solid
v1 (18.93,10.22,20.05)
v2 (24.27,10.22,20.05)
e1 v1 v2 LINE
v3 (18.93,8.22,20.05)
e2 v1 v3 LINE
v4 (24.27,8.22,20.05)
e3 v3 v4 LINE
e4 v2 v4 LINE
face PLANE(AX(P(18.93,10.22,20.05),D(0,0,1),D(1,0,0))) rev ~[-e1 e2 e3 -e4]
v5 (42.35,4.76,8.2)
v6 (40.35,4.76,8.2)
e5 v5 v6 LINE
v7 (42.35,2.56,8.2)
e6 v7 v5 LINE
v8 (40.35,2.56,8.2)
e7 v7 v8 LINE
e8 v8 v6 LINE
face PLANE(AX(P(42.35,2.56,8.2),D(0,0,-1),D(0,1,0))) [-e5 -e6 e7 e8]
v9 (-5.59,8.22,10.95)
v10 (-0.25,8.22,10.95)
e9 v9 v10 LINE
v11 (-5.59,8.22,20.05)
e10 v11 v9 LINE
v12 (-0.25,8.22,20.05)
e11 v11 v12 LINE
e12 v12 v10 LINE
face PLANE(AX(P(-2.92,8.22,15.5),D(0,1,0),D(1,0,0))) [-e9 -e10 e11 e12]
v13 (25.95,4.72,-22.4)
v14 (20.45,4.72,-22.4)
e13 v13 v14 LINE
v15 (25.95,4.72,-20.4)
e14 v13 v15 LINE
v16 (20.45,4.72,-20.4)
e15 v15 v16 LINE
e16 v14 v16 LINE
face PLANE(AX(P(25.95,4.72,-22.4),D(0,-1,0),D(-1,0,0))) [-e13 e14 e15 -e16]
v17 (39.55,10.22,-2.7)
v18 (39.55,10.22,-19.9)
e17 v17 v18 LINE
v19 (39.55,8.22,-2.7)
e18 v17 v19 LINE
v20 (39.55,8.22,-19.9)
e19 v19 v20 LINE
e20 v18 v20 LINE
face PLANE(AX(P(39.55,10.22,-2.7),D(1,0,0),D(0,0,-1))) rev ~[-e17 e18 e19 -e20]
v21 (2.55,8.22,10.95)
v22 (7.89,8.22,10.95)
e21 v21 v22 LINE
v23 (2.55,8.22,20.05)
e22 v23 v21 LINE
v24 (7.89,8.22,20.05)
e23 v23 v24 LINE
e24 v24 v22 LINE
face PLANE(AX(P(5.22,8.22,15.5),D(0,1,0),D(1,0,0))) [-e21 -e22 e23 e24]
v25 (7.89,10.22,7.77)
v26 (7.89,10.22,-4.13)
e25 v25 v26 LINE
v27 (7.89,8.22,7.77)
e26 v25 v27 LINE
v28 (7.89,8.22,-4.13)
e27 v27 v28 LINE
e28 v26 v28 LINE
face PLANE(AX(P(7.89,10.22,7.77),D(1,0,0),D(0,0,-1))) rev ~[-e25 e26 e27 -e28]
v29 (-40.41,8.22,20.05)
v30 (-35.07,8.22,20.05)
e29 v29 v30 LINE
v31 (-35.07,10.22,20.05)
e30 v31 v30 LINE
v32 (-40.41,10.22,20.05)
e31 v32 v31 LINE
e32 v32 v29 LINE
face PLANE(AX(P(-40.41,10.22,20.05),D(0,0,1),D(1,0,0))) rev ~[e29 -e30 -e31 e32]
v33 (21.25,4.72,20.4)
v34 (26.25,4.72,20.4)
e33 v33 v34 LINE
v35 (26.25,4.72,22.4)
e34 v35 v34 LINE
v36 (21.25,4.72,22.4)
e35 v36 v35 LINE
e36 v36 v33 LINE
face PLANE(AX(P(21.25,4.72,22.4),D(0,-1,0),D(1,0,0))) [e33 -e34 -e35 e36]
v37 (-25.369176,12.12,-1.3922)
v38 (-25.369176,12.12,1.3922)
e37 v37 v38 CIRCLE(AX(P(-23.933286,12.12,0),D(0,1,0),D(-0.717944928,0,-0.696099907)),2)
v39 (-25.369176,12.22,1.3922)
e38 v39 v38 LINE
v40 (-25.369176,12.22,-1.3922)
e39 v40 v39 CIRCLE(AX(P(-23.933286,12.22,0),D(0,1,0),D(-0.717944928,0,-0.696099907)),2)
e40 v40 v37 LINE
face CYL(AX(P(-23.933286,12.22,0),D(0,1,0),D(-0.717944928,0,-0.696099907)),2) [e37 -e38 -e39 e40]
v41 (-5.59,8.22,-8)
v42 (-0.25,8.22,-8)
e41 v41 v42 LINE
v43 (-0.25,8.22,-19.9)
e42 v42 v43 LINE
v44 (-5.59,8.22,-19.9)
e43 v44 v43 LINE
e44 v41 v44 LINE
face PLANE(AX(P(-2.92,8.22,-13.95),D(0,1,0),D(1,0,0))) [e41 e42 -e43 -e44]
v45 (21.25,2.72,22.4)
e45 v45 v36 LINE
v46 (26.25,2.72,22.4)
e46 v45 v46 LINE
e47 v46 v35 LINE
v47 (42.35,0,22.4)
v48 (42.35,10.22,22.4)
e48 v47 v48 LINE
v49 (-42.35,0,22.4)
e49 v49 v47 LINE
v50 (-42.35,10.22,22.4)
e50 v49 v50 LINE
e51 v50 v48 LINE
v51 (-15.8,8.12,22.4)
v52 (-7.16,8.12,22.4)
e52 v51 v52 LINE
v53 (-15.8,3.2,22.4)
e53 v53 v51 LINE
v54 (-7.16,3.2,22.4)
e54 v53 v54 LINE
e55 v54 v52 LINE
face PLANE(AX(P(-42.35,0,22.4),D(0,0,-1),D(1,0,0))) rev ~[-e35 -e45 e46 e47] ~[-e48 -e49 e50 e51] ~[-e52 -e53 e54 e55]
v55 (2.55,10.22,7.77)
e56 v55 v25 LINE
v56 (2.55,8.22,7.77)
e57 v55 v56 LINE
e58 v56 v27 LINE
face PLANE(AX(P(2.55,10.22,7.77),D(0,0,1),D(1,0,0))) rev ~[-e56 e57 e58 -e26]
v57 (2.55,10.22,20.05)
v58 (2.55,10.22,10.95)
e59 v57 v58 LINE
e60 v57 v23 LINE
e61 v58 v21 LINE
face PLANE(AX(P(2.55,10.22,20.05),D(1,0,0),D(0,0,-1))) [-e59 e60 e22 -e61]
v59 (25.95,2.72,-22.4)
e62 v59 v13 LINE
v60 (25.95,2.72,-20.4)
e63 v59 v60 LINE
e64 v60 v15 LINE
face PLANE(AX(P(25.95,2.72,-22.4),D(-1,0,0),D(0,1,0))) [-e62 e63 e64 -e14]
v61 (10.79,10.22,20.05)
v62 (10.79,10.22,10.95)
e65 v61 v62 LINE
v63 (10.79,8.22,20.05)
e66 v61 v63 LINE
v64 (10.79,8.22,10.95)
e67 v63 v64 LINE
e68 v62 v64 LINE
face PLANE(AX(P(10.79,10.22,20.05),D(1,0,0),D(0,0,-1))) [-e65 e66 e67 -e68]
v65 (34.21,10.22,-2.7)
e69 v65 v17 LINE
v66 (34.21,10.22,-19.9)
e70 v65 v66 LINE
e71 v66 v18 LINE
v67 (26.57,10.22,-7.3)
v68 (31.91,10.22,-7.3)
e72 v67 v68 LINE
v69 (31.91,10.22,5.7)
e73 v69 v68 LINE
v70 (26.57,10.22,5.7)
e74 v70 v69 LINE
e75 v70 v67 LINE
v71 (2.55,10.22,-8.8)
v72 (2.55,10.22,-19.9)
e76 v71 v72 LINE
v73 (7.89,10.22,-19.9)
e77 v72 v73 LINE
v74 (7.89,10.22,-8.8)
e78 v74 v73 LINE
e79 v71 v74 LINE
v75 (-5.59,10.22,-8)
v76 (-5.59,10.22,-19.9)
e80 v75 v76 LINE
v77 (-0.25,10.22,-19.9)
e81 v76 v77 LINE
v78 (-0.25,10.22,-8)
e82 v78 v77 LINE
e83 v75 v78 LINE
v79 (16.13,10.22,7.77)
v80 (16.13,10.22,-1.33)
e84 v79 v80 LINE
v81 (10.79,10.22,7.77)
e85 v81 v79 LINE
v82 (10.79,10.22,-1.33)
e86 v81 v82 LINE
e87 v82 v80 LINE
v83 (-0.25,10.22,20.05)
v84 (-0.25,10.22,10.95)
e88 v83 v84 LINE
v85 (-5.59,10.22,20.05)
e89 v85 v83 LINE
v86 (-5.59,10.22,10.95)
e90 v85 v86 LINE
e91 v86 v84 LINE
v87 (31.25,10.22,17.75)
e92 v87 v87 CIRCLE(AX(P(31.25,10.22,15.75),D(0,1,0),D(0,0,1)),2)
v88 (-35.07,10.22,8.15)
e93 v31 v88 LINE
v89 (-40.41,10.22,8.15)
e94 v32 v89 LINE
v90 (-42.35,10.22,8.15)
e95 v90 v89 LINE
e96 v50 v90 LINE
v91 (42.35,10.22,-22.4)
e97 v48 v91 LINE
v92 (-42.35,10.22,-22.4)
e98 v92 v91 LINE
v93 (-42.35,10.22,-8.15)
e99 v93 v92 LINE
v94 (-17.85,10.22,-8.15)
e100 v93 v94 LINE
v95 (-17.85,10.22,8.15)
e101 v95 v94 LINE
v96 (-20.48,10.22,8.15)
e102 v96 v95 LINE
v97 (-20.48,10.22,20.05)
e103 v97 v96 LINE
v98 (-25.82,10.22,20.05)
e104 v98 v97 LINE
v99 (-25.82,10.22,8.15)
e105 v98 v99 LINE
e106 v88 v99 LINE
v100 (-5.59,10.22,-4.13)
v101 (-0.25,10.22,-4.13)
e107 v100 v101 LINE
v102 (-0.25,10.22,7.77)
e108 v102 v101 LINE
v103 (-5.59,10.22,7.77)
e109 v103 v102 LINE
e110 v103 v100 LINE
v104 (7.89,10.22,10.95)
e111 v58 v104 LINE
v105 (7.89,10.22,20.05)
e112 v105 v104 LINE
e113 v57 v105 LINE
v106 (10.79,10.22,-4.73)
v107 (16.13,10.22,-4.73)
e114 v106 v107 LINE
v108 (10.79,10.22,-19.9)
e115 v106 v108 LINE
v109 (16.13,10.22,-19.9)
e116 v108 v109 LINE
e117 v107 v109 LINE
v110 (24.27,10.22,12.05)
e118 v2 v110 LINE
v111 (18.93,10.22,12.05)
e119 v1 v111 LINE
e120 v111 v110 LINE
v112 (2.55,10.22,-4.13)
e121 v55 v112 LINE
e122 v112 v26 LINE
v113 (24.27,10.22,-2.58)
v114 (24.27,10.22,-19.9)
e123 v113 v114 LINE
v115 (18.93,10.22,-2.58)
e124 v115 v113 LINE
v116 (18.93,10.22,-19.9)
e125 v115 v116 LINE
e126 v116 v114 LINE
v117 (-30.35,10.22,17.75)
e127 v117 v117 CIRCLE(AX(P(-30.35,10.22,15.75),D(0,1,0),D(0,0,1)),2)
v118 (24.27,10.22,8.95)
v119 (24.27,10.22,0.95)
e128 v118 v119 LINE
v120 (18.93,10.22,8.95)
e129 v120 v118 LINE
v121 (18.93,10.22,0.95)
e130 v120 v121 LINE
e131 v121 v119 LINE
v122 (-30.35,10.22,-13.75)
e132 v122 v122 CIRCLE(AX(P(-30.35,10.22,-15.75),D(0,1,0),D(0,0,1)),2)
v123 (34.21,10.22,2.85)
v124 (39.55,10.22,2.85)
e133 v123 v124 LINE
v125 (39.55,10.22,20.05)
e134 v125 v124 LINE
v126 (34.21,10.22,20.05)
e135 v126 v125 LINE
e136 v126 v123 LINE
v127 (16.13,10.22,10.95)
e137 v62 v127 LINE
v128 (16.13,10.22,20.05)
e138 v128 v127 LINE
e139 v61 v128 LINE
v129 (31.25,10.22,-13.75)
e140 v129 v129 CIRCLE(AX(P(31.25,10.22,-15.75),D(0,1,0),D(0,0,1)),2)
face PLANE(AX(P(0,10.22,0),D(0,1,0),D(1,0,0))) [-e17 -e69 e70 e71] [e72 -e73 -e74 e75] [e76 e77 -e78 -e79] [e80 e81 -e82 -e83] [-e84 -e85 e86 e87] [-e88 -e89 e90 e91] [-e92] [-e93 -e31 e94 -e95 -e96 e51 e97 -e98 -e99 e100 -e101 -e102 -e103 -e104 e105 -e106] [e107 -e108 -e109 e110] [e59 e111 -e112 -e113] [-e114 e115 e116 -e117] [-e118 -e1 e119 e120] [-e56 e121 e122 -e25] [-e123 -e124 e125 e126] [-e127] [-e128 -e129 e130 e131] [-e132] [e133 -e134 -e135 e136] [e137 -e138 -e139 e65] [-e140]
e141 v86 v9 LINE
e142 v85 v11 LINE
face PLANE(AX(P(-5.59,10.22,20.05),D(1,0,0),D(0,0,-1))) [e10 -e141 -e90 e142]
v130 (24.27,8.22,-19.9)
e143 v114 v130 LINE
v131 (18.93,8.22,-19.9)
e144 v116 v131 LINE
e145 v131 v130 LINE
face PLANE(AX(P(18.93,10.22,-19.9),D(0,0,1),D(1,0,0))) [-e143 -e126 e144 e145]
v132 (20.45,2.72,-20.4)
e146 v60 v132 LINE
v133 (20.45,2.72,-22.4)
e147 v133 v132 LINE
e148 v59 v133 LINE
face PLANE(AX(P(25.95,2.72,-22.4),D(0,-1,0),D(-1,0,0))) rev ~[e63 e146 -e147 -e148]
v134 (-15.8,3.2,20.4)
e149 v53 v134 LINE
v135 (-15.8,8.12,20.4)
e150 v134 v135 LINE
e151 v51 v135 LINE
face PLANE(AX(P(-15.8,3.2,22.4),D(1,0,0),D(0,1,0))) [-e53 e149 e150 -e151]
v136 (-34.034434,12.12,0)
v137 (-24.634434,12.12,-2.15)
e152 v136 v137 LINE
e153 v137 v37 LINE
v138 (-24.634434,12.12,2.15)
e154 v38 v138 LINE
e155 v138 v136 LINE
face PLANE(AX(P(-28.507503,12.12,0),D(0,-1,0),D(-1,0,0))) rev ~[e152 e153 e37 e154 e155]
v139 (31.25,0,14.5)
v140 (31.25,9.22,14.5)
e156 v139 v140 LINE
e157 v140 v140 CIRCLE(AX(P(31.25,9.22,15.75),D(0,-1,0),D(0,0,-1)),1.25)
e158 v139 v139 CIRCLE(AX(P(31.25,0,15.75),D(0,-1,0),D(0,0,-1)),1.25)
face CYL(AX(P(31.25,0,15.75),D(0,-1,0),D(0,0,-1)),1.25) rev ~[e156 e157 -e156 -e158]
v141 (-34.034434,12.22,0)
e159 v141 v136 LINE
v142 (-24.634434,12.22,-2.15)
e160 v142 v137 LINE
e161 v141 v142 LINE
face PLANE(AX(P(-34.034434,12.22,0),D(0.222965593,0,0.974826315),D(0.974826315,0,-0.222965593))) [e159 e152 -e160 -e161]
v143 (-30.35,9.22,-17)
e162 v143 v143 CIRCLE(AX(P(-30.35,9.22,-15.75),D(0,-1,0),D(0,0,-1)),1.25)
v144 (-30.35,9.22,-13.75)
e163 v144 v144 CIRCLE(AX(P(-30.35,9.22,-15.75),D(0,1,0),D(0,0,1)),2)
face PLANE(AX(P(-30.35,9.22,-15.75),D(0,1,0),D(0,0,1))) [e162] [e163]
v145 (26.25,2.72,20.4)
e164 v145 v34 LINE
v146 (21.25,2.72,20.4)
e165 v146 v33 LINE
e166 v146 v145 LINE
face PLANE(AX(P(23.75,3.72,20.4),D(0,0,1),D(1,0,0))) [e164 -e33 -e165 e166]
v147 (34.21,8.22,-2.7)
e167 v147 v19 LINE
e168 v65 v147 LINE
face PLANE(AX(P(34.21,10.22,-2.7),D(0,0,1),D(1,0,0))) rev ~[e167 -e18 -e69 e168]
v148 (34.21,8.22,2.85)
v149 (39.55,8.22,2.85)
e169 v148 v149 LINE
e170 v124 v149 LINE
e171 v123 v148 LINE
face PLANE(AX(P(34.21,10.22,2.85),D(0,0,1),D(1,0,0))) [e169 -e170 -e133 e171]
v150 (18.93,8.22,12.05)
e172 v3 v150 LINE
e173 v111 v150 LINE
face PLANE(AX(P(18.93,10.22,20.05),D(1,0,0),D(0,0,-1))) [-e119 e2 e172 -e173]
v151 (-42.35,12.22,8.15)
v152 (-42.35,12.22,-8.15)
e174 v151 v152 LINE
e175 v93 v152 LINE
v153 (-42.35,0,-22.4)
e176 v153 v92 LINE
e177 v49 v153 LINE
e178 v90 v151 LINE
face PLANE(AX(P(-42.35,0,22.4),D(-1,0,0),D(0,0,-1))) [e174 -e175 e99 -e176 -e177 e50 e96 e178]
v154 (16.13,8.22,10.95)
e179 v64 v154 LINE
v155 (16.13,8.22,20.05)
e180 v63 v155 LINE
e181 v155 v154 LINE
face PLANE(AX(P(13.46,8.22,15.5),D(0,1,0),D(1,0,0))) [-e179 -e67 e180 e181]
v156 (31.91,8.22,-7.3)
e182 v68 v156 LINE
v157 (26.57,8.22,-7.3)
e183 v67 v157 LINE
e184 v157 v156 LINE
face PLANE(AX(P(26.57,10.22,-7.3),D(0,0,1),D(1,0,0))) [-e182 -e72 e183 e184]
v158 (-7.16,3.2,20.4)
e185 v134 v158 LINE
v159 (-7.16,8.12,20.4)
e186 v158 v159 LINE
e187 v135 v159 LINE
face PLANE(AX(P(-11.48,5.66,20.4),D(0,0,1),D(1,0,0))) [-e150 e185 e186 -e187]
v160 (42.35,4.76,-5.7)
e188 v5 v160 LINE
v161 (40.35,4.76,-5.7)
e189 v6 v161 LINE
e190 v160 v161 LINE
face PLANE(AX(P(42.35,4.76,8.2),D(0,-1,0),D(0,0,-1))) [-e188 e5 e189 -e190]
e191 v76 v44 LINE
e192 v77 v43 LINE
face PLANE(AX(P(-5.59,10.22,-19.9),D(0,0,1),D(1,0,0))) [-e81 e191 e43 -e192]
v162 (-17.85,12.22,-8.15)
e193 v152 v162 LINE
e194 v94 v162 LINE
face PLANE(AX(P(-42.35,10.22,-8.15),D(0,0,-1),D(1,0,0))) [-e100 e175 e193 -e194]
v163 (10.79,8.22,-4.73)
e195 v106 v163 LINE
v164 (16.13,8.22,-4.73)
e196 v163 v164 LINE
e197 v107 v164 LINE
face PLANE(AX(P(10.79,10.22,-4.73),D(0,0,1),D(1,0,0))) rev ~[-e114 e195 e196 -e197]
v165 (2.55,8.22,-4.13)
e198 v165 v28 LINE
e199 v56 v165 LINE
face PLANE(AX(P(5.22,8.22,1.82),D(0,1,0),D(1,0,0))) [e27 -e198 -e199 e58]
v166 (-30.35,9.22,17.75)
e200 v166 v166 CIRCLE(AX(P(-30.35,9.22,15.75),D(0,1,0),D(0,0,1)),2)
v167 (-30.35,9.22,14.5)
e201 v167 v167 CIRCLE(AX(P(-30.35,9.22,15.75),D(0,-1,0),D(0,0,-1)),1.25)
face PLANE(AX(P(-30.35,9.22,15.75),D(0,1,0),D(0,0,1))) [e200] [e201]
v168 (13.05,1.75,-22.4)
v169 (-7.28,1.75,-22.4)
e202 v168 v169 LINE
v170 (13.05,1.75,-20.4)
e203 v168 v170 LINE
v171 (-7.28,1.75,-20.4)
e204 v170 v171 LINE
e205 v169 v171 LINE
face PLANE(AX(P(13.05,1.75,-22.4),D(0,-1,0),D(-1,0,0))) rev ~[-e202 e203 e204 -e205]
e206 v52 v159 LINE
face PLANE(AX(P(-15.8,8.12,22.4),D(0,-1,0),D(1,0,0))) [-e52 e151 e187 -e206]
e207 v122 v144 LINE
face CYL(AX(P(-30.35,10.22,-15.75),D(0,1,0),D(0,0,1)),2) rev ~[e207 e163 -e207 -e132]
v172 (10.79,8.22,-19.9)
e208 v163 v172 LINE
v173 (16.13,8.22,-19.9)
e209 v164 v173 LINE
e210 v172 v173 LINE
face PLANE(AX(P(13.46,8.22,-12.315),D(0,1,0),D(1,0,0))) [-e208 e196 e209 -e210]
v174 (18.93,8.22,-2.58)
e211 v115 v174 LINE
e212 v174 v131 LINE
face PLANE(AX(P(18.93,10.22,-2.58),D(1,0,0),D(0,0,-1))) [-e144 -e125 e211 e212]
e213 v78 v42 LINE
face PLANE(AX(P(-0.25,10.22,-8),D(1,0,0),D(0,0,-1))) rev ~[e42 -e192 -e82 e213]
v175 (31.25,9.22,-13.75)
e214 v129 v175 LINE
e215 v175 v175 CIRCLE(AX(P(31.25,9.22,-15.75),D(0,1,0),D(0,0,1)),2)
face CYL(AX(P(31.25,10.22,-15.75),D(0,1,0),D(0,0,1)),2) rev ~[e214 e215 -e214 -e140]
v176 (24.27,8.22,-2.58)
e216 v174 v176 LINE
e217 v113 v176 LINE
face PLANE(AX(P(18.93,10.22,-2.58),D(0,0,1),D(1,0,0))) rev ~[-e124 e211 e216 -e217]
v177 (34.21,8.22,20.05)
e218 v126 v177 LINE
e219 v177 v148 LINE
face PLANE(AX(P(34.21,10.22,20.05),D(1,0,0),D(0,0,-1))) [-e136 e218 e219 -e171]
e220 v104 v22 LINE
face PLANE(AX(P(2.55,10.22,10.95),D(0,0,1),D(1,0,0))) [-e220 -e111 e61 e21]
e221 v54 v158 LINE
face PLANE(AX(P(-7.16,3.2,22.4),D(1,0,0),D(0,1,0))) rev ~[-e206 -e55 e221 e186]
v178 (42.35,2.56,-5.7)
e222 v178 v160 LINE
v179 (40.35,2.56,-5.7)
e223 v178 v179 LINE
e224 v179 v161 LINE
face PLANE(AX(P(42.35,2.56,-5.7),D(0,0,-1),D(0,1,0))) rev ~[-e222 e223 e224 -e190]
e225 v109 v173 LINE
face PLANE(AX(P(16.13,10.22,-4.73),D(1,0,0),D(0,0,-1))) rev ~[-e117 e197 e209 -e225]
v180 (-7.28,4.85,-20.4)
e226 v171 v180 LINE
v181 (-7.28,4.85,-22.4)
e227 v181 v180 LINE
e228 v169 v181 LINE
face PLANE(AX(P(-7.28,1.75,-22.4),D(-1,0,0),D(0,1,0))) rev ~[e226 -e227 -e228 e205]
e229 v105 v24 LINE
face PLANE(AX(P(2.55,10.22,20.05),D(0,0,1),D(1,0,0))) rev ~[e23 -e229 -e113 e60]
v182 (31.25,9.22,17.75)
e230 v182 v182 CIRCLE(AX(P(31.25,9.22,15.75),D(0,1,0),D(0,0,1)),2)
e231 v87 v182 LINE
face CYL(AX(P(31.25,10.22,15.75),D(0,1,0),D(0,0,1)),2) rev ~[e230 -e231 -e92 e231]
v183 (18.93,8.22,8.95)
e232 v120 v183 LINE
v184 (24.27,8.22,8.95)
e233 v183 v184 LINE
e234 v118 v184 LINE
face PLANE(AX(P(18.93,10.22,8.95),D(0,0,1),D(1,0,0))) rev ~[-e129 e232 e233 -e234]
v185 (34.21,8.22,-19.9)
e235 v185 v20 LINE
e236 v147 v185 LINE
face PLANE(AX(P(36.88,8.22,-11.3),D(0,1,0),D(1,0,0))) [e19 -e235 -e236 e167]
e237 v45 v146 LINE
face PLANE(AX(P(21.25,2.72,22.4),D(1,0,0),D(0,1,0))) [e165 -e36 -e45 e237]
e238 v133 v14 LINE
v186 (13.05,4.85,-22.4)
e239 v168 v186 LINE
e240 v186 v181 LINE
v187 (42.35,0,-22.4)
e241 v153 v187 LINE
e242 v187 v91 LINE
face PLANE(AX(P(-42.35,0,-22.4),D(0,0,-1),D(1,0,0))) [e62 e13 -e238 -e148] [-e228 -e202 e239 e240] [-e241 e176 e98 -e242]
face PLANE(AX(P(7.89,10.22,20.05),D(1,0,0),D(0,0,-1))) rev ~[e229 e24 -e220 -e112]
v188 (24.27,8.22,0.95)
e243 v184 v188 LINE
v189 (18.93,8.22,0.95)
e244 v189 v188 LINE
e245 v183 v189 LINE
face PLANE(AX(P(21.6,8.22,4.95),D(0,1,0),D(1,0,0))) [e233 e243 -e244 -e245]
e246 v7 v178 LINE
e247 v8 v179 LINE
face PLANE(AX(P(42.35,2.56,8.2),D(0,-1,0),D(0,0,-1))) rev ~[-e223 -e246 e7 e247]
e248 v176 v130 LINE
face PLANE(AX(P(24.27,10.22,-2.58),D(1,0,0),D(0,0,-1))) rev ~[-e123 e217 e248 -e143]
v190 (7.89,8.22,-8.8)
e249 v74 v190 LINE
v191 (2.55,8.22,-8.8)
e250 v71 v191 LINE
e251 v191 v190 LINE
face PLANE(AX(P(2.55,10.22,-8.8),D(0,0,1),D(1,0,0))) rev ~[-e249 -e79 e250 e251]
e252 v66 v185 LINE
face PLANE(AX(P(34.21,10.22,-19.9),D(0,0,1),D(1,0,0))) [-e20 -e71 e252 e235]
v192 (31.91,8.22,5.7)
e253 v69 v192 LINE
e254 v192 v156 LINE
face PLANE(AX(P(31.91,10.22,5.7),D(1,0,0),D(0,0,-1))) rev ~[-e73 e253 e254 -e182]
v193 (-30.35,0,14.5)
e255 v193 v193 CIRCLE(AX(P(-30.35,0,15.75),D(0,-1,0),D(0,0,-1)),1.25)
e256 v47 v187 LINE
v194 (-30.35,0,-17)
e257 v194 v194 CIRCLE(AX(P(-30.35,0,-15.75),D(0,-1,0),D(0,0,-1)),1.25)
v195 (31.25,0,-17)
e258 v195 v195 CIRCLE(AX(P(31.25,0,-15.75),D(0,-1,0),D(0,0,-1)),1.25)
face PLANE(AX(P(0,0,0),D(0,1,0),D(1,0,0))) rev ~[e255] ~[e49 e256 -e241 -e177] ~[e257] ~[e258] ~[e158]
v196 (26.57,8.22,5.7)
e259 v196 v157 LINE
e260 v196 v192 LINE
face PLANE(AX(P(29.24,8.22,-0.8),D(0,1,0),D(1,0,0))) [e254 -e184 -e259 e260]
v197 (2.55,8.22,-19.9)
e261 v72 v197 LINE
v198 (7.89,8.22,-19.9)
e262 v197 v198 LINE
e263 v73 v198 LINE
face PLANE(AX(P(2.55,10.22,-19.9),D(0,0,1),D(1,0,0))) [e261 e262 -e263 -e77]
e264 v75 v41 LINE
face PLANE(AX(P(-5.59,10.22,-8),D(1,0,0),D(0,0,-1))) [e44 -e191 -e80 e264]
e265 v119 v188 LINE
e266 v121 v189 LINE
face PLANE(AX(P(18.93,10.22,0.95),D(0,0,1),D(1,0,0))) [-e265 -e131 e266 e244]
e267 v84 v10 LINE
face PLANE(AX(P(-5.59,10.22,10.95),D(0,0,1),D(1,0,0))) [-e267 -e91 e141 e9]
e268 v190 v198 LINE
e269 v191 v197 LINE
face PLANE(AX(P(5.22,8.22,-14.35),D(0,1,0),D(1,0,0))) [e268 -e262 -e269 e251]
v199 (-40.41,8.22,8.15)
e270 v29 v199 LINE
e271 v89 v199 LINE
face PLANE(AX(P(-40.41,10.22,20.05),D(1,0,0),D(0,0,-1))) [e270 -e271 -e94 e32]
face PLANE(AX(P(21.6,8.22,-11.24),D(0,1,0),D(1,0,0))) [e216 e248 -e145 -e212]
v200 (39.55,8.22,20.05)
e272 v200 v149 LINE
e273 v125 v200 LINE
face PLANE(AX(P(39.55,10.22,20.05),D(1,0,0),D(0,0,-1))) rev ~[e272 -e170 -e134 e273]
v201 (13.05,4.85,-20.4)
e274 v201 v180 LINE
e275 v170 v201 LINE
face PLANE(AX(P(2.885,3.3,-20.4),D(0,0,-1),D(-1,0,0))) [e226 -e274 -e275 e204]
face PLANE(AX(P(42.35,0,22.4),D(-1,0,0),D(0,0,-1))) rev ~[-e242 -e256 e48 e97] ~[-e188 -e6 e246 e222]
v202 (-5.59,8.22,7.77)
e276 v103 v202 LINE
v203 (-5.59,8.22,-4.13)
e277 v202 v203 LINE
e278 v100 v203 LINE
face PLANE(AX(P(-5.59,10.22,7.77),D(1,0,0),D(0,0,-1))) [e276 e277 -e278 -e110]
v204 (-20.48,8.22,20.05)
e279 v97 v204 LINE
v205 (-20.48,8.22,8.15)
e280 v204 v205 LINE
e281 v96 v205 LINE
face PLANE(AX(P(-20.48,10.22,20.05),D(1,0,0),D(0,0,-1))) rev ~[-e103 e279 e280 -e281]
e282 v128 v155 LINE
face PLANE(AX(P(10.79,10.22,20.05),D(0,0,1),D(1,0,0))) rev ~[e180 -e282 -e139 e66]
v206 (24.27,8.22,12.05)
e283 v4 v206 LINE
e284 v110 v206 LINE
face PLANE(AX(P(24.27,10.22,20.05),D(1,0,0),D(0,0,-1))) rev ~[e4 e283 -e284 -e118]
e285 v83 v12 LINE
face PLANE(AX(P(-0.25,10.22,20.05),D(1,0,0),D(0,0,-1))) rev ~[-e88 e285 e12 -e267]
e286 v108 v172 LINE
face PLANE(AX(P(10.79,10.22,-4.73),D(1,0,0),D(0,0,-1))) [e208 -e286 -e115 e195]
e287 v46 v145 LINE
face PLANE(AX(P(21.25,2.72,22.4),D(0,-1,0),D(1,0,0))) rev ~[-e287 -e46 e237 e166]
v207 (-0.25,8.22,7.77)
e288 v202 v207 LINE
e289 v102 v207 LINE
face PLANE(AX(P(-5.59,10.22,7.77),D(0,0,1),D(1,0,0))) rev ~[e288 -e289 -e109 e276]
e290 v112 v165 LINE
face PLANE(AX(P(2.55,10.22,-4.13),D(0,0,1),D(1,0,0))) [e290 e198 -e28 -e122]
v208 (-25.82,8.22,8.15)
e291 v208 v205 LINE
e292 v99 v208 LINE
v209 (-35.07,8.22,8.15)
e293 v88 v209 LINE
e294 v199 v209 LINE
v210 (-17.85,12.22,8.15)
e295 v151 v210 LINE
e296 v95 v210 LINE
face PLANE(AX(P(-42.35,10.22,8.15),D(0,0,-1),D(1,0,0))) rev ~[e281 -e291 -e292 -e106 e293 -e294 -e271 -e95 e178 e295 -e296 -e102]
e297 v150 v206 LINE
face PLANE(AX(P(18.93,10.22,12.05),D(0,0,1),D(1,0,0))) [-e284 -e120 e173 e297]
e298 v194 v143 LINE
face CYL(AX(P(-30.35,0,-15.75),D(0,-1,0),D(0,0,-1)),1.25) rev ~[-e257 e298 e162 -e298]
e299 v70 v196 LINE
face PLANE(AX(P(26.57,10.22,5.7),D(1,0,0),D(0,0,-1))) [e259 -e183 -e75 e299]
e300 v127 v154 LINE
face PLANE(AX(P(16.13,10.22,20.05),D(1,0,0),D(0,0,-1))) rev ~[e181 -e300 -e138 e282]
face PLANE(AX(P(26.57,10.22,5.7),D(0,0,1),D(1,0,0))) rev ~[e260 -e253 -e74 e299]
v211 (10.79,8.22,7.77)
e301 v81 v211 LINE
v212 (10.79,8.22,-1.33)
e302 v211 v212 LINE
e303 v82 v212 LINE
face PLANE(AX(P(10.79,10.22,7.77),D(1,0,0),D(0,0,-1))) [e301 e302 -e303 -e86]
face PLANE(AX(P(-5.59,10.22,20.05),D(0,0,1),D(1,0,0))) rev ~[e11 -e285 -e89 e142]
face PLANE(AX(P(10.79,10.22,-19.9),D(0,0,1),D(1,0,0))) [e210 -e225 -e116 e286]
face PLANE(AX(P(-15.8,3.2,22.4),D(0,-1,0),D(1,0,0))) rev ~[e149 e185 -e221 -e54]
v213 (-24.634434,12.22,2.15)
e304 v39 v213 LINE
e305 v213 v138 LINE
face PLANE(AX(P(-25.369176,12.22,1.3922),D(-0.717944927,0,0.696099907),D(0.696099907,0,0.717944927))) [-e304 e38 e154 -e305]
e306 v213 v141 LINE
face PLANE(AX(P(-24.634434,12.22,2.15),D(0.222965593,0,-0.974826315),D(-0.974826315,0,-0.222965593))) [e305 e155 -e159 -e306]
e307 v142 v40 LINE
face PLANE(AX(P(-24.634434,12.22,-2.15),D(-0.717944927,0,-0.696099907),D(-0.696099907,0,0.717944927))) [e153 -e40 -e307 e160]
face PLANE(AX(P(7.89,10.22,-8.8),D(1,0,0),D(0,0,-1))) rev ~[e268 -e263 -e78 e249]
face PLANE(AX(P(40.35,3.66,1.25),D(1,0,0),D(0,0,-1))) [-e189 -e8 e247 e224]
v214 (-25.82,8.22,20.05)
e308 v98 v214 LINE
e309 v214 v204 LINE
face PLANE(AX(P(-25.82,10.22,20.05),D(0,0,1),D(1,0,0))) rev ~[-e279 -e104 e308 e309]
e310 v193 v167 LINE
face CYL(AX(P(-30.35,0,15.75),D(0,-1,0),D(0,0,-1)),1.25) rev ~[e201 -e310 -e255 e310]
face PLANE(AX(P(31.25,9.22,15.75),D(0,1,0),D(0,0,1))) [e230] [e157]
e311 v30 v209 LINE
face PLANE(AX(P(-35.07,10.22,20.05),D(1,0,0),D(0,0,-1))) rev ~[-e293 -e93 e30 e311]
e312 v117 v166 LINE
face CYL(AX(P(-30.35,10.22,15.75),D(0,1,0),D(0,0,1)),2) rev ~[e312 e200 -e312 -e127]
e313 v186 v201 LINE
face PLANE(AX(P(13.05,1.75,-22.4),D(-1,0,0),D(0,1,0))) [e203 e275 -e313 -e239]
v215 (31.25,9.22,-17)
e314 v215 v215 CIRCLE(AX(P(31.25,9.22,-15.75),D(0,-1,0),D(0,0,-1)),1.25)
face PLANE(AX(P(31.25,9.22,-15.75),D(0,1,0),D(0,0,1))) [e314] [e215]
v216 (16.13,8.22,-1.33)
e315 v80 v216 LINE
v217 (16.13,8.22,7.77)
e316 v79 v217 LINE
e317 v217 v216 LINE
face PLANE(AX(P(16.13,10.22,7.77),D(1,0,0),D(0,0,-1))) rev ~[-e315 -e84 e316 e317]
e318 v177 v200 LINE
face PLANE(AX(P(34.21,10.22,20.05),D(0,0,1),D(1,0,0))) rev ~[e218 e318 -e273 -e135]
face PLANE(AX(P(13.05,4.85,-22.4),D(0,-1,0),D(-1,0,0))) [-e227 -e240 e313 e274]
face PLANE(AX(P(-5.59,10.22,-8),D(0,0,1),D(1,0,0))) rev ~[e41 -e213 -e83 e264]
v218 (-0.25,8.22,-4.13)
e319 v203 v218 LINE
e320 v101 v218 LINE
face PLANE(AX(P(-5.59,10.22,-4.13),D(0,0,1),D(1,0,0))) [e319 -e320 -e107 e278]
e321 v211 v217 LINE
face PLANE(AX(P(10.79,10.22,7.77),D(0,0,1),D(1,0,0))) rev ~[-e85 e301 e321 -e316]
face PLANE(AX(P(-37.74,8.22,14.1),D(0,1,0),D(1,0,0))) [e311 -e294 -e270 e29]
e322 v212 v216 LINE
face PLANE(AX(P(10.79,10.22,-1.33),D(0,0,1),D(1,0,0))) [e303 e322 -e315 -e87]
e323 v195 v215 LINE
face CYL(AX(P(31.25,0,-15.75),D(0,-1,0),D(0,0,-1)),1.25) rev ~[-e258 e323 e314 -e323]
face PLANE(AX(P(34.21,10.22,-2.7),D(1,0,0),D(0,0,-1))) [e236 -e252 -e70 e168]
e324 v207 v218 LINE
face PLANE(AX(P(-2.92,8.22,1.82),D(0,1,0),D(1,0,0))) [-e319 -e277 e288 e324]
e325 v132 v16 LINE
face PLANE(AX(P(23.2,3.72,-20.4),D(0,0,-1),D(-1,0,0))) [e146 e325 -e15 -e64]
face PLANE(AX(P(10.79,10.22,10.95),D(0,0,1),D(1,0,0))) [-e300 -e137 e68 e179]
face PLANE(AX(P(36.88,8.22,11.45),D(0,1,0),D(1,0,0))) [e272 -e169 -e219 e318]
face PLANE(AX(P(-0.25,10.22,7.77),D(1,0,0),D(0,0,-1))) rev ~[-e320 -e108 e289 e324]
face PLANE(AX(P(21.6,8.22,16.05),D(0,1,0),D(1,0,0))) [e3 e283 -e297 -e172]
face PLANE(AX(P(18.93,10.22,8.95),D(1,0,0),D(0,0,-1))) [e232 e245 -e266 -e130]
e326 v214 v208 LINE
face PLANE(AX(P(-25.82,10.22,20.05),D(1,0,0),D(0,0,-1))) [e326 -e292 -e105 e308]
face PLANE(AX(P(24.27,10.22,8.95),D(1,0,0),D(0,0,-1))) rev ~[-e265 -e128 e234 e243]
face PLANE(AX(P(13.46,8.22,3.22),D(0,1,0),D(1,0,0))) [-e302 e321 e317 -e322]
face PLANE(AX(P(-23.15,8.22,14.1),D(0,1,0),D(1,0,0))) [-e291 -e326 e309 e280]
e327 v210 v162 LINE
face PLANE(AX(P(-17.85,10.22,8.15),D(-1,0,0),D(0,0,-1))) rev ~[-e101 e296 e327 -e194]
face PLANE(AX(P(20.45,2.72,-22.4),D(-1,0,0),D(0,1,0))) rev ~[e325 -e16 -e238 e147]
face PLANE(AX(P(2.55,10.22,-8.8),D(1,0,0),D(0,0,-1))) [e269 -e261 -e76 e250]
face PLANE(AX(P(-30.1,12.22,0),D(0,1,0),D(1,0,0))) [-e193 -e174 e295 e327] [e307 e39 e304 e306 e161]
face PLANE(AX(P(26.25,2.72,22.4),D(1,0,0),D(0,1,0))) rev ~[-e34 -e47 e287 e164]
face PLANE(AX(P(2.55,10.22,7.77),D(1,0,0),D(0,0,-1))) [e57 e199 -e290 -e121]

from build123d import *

# Parameters (mm, degrees)
SKETCH1_W           = 84.7
SKETCH1_H           = 44.8
BOSS_EXTRUDE1_DEPTH = 10.22
SKETCH2_W           = 24.5
SKETCH2_H           = 16.3
BOSS_EXTRUDE2_DEPTH = 2
SKETCH3_W           = 5.34
SKETCH3_H           = 11.9
SKETCH3_H_2         = 9.1
SKETCH3_H_3         = 8
SKETCH3_H_4         = 17.2
SKETCH3_H_5         = 11.1
SKETCH3_H_6         = 15.17
SKETCH3_H_7         = 17.32
SKETCH3_H_8         = 13
CUT_EXTRUDE1_DEPTH  = 2
SKETCH4_R           = 1.25
CUT_EXTRUDE2_DEPTH  = 50.443006583
SKETCH5_R           = 2
CUT_EXTRUDE3_DEPTH  = 1
SKETCH6_W           = 8.64
SKETCH6_H           = 4.92
CUT_EXTRUDE4_DEPTH  = 2
SKETCH7_W           = 5
SKETCH7_H           = 2
CUT_EXTRUDE5_DEPTH  = 2
SKETCH8_W           = 20.33
SKETCH8_H           = 3.1
SKETCH8_W_2         = 5.5
SKETCH8_H_2         = 2
CUT_EXTRUDE6_DEPTH  = 2
SKETCH9_W           = 13.9
SKETCH9_H           = 2.2
CUT_EXTRUDE7_DEPTH  = 2
CUT_EXTRUDE8_DEPTH  = 0.1


with BuildPart() as part:
    # Sketch1 → Boss-Extrude1 (new body)
    with BuildSketch(Plane(origin=(0, 0, 0), x_dir=(1, 0, 0), z_dir=(0, 1, 0))):
        Rectangle(SKETCH1_W, SKETCH1_H)
    extrude(amount=BOSS_EXTRUDE1_DEPTH)

    # Sketch2 → Boss-Extrude2 (add)
    with BuildSketch(Plane(origin=(0, 10.22, 0), x_dir=(1, 0, 0), z_dir=(0, 1, 0))):
        with Locations((-30.1, 0)):
            Rectangle(SKETCH2_W, SKETCH2_H)
    extrude(amount=BOSS_EXTRUDE2_DEPTH)

    # Sketch3 → Cut-Extrude1 (cut)
    with BuildSketch(Plane(origin=(0, 10.22, 0), x_dir=(1, 0, 0), z_dir=(0, 1, 0))):
        with Locations((-37.74, -14.1)):
            Rectangle(SKETCH3_W, SKETCH3_H)
        with Locations((-23.15, -14.1)):
            Rectangle(SKETCH3_W, SKETCH3_H)
        with Locations((-2.92, -15.5)):
            Rectangle(SKETCH3_W, SKETCH3_H_2)
        with Locations((5.22, -15.5)):
            Rectangle(SKETCH3_W, SKETCH3_H_2)
        with Locations((13.46, -15.5)):
            Rectangle(SKETCH3_W, SKETCH3_H_2)
        with Locations((21.6, -16.05)):
            Rectangle(SKETCH3_W, SKETCH3_H_3)
        with Locations((21.6, -4.95)):
            Rectangle(SKETCH3_W, SKETCH3_H_3)
        with Locations((36.88, -11.45)):
            Rectangle(SKETCH3_W, SKETCH3_H_4)
        with Locations((-2.92, -1.82)):
            Rectangle(SKETCH3_W, SKETCH3_H)
        with Locations((5.22, -1.82)):
            Rectangle(SKETCH3_W, SKETCH3_H)
        with Locations((13.46, -3.22)):
            Rectangle(SKETCH3_W, SKETCH3_H_2)
        with Locations((-2.92, 13.95)):
            Rectangle(SKETCH3_W, SKETCH3_H)
        with Locations((5.22, 14.35)):
            Rectangle(SKETCH3_W, SKETCH3_H_5)
        with Locations((13.46, 12.315)):
            Rectangle(SKETCH3_W, SKETCH3_H_6)
        with Locations((21.6, 11.24)):
            Rectangle(SKETCH3_W, SKETCH3_H_7)
        with Locations((29.24, 0.8)):
            Rectangle(SKETCH3_W, SKETCH3_H_8)
        with Locations((36.88, 11.3)):
            Rectangle(SKETCH3_W, SKETCH3_H_4)
    extrude(amount=-CUT_EXTRUDE1_DEPTH, mode=Mode.SUBTRACT)

    # Sketch4 → Cut-Extrude2 (cut, through all)
    with BuildSketch(Plane.XZ):
        with Locations(Location((-30.35, 15.75, 0), (0, 0, 270))):
            Circle(SKETCH4_R)
        with Locations(Location((31.25, 15.75, 0), (0, 0, 270))):
            Circle(SKETCH4_R)
        with Locations(Location((31.25, -15.75, 0), (0, 0, 270))):
            Circle(SKETCH4_R)
        with Locations(Location((-30.35, -15.75, 0), (0, 0, 270))):
            Circle(SKETCH4_R)
    extrude(amount=-CUT_EXTRUDE2_DEPTH, mode=Mode.SUBTRACT)

    # Sketch5 → Cut-Extrude3 (cut)
    with BuildSketch(Plane(origin=(0, 10.22, 0), x_dir=(1, 0, 0), z_dir=(0, 1, 0))):
        with Locations(Location((-30.35, 15.75, 0), (0, 0, 270))):
            Circle(SKETCH5_R)
        with Locations(Location((-30.35, -15.75, 0), (0, 0, 270))):
            Circle(SKETCH5_R)
        with Locations(Location((31.25, 15.75, 0), (0, 0, 270))):
            Circle(SKETCH5_R)
        with Locations(Location((31.25, -15.75, 0), (0, 0, 270))):
            Circle(SKETCH5_R)
    extrude(amount=-CUT_EXTRUDE3_DEPTH, mode=Mode.SUBTRACT)

    # Sketch6 → Cut-Extrude4 (cut)
    with BuildSketch(Plane.XY.offset(22.4)):
        with Locations((-11.48, 5.66)):
            Rectangle(SKETCH6_W, SKETCH6_H)
    extrude(amount=-CUT_EXTRUDE4_DEPTH, mode=Mode.SUBTRACT)

    # Sketch7 → Cut-Extrude5 (cut)
    with BuildSketch(Plane.XY.offset(22.4)):
        with Locations((23.75, 3.72)):
            Rectangle(SKETCH7_W, SKETCH7_H)
    extrude(amount=-CUT_EXTRUDE5_DEPTH, mode=Mode.SUBTRACT)

    # Sketch8 → Cut-Extrude6 (cut)
    with BuildSketch(Plane(origin=(0, 0, -22.4), x_dir=(-1, 0, 0), z_dir=(0, 0, -1))):
        with Locations((-2.885, 3.3)):
            Rectangle(SKETCH8_W, SKETCH8_H)
        with Locations((-23.2, 3.72)):
            Rectangle(SKETCH8_W_2, SKETCH8_H_2)
    extrude(amount=-CUT_EXTRUDE6_DEPTH, mode=Mode.SUBTRACT)

    # Sketch9 → Cut-Extrude7 (cut)
    with BuildSketch(Plane(origin=(42.35, 0, 0), x_dir=(0, 0, -1), z_dir=(1, 0, 0))):
        with Locations((-1.25, 3.66)):
            Rectangle(SKETCH9_W, SKETCH9_H)
    extrude(amount=-CUT_EXTRUDE7_DEPTH, mode=Mode.SUBTRACT)

    # Sketch10 → Cut-Extrude8 (cut)
    with BuildSketch(Plane(origin=(0, 12.22, 0), x_dir=(1, 0, 0), z_dir=(0, 1, 0))):
        with BuildLine():
            Line((-34.034433703, 0), (-24.634433703, 2.15))
            Line((-24.634433703, 2.15), (-25.369176186, 1.392199815))
            ThreePointArc((-25.369176186, 1.392199815), (-25.933286331, 0), (-25.369176186, -1.392199815))
            Line((-25.369176186, -1.392199815), (-24.634433703, -2.15))
            Line((-24.634433703, -2.15), (-34.034433703, 0))
        make_face()
    extrude(amount=-CUT_EXTRUDE8_DEPTH, mode=Mode.SUBTRACT)


solid = part.part
